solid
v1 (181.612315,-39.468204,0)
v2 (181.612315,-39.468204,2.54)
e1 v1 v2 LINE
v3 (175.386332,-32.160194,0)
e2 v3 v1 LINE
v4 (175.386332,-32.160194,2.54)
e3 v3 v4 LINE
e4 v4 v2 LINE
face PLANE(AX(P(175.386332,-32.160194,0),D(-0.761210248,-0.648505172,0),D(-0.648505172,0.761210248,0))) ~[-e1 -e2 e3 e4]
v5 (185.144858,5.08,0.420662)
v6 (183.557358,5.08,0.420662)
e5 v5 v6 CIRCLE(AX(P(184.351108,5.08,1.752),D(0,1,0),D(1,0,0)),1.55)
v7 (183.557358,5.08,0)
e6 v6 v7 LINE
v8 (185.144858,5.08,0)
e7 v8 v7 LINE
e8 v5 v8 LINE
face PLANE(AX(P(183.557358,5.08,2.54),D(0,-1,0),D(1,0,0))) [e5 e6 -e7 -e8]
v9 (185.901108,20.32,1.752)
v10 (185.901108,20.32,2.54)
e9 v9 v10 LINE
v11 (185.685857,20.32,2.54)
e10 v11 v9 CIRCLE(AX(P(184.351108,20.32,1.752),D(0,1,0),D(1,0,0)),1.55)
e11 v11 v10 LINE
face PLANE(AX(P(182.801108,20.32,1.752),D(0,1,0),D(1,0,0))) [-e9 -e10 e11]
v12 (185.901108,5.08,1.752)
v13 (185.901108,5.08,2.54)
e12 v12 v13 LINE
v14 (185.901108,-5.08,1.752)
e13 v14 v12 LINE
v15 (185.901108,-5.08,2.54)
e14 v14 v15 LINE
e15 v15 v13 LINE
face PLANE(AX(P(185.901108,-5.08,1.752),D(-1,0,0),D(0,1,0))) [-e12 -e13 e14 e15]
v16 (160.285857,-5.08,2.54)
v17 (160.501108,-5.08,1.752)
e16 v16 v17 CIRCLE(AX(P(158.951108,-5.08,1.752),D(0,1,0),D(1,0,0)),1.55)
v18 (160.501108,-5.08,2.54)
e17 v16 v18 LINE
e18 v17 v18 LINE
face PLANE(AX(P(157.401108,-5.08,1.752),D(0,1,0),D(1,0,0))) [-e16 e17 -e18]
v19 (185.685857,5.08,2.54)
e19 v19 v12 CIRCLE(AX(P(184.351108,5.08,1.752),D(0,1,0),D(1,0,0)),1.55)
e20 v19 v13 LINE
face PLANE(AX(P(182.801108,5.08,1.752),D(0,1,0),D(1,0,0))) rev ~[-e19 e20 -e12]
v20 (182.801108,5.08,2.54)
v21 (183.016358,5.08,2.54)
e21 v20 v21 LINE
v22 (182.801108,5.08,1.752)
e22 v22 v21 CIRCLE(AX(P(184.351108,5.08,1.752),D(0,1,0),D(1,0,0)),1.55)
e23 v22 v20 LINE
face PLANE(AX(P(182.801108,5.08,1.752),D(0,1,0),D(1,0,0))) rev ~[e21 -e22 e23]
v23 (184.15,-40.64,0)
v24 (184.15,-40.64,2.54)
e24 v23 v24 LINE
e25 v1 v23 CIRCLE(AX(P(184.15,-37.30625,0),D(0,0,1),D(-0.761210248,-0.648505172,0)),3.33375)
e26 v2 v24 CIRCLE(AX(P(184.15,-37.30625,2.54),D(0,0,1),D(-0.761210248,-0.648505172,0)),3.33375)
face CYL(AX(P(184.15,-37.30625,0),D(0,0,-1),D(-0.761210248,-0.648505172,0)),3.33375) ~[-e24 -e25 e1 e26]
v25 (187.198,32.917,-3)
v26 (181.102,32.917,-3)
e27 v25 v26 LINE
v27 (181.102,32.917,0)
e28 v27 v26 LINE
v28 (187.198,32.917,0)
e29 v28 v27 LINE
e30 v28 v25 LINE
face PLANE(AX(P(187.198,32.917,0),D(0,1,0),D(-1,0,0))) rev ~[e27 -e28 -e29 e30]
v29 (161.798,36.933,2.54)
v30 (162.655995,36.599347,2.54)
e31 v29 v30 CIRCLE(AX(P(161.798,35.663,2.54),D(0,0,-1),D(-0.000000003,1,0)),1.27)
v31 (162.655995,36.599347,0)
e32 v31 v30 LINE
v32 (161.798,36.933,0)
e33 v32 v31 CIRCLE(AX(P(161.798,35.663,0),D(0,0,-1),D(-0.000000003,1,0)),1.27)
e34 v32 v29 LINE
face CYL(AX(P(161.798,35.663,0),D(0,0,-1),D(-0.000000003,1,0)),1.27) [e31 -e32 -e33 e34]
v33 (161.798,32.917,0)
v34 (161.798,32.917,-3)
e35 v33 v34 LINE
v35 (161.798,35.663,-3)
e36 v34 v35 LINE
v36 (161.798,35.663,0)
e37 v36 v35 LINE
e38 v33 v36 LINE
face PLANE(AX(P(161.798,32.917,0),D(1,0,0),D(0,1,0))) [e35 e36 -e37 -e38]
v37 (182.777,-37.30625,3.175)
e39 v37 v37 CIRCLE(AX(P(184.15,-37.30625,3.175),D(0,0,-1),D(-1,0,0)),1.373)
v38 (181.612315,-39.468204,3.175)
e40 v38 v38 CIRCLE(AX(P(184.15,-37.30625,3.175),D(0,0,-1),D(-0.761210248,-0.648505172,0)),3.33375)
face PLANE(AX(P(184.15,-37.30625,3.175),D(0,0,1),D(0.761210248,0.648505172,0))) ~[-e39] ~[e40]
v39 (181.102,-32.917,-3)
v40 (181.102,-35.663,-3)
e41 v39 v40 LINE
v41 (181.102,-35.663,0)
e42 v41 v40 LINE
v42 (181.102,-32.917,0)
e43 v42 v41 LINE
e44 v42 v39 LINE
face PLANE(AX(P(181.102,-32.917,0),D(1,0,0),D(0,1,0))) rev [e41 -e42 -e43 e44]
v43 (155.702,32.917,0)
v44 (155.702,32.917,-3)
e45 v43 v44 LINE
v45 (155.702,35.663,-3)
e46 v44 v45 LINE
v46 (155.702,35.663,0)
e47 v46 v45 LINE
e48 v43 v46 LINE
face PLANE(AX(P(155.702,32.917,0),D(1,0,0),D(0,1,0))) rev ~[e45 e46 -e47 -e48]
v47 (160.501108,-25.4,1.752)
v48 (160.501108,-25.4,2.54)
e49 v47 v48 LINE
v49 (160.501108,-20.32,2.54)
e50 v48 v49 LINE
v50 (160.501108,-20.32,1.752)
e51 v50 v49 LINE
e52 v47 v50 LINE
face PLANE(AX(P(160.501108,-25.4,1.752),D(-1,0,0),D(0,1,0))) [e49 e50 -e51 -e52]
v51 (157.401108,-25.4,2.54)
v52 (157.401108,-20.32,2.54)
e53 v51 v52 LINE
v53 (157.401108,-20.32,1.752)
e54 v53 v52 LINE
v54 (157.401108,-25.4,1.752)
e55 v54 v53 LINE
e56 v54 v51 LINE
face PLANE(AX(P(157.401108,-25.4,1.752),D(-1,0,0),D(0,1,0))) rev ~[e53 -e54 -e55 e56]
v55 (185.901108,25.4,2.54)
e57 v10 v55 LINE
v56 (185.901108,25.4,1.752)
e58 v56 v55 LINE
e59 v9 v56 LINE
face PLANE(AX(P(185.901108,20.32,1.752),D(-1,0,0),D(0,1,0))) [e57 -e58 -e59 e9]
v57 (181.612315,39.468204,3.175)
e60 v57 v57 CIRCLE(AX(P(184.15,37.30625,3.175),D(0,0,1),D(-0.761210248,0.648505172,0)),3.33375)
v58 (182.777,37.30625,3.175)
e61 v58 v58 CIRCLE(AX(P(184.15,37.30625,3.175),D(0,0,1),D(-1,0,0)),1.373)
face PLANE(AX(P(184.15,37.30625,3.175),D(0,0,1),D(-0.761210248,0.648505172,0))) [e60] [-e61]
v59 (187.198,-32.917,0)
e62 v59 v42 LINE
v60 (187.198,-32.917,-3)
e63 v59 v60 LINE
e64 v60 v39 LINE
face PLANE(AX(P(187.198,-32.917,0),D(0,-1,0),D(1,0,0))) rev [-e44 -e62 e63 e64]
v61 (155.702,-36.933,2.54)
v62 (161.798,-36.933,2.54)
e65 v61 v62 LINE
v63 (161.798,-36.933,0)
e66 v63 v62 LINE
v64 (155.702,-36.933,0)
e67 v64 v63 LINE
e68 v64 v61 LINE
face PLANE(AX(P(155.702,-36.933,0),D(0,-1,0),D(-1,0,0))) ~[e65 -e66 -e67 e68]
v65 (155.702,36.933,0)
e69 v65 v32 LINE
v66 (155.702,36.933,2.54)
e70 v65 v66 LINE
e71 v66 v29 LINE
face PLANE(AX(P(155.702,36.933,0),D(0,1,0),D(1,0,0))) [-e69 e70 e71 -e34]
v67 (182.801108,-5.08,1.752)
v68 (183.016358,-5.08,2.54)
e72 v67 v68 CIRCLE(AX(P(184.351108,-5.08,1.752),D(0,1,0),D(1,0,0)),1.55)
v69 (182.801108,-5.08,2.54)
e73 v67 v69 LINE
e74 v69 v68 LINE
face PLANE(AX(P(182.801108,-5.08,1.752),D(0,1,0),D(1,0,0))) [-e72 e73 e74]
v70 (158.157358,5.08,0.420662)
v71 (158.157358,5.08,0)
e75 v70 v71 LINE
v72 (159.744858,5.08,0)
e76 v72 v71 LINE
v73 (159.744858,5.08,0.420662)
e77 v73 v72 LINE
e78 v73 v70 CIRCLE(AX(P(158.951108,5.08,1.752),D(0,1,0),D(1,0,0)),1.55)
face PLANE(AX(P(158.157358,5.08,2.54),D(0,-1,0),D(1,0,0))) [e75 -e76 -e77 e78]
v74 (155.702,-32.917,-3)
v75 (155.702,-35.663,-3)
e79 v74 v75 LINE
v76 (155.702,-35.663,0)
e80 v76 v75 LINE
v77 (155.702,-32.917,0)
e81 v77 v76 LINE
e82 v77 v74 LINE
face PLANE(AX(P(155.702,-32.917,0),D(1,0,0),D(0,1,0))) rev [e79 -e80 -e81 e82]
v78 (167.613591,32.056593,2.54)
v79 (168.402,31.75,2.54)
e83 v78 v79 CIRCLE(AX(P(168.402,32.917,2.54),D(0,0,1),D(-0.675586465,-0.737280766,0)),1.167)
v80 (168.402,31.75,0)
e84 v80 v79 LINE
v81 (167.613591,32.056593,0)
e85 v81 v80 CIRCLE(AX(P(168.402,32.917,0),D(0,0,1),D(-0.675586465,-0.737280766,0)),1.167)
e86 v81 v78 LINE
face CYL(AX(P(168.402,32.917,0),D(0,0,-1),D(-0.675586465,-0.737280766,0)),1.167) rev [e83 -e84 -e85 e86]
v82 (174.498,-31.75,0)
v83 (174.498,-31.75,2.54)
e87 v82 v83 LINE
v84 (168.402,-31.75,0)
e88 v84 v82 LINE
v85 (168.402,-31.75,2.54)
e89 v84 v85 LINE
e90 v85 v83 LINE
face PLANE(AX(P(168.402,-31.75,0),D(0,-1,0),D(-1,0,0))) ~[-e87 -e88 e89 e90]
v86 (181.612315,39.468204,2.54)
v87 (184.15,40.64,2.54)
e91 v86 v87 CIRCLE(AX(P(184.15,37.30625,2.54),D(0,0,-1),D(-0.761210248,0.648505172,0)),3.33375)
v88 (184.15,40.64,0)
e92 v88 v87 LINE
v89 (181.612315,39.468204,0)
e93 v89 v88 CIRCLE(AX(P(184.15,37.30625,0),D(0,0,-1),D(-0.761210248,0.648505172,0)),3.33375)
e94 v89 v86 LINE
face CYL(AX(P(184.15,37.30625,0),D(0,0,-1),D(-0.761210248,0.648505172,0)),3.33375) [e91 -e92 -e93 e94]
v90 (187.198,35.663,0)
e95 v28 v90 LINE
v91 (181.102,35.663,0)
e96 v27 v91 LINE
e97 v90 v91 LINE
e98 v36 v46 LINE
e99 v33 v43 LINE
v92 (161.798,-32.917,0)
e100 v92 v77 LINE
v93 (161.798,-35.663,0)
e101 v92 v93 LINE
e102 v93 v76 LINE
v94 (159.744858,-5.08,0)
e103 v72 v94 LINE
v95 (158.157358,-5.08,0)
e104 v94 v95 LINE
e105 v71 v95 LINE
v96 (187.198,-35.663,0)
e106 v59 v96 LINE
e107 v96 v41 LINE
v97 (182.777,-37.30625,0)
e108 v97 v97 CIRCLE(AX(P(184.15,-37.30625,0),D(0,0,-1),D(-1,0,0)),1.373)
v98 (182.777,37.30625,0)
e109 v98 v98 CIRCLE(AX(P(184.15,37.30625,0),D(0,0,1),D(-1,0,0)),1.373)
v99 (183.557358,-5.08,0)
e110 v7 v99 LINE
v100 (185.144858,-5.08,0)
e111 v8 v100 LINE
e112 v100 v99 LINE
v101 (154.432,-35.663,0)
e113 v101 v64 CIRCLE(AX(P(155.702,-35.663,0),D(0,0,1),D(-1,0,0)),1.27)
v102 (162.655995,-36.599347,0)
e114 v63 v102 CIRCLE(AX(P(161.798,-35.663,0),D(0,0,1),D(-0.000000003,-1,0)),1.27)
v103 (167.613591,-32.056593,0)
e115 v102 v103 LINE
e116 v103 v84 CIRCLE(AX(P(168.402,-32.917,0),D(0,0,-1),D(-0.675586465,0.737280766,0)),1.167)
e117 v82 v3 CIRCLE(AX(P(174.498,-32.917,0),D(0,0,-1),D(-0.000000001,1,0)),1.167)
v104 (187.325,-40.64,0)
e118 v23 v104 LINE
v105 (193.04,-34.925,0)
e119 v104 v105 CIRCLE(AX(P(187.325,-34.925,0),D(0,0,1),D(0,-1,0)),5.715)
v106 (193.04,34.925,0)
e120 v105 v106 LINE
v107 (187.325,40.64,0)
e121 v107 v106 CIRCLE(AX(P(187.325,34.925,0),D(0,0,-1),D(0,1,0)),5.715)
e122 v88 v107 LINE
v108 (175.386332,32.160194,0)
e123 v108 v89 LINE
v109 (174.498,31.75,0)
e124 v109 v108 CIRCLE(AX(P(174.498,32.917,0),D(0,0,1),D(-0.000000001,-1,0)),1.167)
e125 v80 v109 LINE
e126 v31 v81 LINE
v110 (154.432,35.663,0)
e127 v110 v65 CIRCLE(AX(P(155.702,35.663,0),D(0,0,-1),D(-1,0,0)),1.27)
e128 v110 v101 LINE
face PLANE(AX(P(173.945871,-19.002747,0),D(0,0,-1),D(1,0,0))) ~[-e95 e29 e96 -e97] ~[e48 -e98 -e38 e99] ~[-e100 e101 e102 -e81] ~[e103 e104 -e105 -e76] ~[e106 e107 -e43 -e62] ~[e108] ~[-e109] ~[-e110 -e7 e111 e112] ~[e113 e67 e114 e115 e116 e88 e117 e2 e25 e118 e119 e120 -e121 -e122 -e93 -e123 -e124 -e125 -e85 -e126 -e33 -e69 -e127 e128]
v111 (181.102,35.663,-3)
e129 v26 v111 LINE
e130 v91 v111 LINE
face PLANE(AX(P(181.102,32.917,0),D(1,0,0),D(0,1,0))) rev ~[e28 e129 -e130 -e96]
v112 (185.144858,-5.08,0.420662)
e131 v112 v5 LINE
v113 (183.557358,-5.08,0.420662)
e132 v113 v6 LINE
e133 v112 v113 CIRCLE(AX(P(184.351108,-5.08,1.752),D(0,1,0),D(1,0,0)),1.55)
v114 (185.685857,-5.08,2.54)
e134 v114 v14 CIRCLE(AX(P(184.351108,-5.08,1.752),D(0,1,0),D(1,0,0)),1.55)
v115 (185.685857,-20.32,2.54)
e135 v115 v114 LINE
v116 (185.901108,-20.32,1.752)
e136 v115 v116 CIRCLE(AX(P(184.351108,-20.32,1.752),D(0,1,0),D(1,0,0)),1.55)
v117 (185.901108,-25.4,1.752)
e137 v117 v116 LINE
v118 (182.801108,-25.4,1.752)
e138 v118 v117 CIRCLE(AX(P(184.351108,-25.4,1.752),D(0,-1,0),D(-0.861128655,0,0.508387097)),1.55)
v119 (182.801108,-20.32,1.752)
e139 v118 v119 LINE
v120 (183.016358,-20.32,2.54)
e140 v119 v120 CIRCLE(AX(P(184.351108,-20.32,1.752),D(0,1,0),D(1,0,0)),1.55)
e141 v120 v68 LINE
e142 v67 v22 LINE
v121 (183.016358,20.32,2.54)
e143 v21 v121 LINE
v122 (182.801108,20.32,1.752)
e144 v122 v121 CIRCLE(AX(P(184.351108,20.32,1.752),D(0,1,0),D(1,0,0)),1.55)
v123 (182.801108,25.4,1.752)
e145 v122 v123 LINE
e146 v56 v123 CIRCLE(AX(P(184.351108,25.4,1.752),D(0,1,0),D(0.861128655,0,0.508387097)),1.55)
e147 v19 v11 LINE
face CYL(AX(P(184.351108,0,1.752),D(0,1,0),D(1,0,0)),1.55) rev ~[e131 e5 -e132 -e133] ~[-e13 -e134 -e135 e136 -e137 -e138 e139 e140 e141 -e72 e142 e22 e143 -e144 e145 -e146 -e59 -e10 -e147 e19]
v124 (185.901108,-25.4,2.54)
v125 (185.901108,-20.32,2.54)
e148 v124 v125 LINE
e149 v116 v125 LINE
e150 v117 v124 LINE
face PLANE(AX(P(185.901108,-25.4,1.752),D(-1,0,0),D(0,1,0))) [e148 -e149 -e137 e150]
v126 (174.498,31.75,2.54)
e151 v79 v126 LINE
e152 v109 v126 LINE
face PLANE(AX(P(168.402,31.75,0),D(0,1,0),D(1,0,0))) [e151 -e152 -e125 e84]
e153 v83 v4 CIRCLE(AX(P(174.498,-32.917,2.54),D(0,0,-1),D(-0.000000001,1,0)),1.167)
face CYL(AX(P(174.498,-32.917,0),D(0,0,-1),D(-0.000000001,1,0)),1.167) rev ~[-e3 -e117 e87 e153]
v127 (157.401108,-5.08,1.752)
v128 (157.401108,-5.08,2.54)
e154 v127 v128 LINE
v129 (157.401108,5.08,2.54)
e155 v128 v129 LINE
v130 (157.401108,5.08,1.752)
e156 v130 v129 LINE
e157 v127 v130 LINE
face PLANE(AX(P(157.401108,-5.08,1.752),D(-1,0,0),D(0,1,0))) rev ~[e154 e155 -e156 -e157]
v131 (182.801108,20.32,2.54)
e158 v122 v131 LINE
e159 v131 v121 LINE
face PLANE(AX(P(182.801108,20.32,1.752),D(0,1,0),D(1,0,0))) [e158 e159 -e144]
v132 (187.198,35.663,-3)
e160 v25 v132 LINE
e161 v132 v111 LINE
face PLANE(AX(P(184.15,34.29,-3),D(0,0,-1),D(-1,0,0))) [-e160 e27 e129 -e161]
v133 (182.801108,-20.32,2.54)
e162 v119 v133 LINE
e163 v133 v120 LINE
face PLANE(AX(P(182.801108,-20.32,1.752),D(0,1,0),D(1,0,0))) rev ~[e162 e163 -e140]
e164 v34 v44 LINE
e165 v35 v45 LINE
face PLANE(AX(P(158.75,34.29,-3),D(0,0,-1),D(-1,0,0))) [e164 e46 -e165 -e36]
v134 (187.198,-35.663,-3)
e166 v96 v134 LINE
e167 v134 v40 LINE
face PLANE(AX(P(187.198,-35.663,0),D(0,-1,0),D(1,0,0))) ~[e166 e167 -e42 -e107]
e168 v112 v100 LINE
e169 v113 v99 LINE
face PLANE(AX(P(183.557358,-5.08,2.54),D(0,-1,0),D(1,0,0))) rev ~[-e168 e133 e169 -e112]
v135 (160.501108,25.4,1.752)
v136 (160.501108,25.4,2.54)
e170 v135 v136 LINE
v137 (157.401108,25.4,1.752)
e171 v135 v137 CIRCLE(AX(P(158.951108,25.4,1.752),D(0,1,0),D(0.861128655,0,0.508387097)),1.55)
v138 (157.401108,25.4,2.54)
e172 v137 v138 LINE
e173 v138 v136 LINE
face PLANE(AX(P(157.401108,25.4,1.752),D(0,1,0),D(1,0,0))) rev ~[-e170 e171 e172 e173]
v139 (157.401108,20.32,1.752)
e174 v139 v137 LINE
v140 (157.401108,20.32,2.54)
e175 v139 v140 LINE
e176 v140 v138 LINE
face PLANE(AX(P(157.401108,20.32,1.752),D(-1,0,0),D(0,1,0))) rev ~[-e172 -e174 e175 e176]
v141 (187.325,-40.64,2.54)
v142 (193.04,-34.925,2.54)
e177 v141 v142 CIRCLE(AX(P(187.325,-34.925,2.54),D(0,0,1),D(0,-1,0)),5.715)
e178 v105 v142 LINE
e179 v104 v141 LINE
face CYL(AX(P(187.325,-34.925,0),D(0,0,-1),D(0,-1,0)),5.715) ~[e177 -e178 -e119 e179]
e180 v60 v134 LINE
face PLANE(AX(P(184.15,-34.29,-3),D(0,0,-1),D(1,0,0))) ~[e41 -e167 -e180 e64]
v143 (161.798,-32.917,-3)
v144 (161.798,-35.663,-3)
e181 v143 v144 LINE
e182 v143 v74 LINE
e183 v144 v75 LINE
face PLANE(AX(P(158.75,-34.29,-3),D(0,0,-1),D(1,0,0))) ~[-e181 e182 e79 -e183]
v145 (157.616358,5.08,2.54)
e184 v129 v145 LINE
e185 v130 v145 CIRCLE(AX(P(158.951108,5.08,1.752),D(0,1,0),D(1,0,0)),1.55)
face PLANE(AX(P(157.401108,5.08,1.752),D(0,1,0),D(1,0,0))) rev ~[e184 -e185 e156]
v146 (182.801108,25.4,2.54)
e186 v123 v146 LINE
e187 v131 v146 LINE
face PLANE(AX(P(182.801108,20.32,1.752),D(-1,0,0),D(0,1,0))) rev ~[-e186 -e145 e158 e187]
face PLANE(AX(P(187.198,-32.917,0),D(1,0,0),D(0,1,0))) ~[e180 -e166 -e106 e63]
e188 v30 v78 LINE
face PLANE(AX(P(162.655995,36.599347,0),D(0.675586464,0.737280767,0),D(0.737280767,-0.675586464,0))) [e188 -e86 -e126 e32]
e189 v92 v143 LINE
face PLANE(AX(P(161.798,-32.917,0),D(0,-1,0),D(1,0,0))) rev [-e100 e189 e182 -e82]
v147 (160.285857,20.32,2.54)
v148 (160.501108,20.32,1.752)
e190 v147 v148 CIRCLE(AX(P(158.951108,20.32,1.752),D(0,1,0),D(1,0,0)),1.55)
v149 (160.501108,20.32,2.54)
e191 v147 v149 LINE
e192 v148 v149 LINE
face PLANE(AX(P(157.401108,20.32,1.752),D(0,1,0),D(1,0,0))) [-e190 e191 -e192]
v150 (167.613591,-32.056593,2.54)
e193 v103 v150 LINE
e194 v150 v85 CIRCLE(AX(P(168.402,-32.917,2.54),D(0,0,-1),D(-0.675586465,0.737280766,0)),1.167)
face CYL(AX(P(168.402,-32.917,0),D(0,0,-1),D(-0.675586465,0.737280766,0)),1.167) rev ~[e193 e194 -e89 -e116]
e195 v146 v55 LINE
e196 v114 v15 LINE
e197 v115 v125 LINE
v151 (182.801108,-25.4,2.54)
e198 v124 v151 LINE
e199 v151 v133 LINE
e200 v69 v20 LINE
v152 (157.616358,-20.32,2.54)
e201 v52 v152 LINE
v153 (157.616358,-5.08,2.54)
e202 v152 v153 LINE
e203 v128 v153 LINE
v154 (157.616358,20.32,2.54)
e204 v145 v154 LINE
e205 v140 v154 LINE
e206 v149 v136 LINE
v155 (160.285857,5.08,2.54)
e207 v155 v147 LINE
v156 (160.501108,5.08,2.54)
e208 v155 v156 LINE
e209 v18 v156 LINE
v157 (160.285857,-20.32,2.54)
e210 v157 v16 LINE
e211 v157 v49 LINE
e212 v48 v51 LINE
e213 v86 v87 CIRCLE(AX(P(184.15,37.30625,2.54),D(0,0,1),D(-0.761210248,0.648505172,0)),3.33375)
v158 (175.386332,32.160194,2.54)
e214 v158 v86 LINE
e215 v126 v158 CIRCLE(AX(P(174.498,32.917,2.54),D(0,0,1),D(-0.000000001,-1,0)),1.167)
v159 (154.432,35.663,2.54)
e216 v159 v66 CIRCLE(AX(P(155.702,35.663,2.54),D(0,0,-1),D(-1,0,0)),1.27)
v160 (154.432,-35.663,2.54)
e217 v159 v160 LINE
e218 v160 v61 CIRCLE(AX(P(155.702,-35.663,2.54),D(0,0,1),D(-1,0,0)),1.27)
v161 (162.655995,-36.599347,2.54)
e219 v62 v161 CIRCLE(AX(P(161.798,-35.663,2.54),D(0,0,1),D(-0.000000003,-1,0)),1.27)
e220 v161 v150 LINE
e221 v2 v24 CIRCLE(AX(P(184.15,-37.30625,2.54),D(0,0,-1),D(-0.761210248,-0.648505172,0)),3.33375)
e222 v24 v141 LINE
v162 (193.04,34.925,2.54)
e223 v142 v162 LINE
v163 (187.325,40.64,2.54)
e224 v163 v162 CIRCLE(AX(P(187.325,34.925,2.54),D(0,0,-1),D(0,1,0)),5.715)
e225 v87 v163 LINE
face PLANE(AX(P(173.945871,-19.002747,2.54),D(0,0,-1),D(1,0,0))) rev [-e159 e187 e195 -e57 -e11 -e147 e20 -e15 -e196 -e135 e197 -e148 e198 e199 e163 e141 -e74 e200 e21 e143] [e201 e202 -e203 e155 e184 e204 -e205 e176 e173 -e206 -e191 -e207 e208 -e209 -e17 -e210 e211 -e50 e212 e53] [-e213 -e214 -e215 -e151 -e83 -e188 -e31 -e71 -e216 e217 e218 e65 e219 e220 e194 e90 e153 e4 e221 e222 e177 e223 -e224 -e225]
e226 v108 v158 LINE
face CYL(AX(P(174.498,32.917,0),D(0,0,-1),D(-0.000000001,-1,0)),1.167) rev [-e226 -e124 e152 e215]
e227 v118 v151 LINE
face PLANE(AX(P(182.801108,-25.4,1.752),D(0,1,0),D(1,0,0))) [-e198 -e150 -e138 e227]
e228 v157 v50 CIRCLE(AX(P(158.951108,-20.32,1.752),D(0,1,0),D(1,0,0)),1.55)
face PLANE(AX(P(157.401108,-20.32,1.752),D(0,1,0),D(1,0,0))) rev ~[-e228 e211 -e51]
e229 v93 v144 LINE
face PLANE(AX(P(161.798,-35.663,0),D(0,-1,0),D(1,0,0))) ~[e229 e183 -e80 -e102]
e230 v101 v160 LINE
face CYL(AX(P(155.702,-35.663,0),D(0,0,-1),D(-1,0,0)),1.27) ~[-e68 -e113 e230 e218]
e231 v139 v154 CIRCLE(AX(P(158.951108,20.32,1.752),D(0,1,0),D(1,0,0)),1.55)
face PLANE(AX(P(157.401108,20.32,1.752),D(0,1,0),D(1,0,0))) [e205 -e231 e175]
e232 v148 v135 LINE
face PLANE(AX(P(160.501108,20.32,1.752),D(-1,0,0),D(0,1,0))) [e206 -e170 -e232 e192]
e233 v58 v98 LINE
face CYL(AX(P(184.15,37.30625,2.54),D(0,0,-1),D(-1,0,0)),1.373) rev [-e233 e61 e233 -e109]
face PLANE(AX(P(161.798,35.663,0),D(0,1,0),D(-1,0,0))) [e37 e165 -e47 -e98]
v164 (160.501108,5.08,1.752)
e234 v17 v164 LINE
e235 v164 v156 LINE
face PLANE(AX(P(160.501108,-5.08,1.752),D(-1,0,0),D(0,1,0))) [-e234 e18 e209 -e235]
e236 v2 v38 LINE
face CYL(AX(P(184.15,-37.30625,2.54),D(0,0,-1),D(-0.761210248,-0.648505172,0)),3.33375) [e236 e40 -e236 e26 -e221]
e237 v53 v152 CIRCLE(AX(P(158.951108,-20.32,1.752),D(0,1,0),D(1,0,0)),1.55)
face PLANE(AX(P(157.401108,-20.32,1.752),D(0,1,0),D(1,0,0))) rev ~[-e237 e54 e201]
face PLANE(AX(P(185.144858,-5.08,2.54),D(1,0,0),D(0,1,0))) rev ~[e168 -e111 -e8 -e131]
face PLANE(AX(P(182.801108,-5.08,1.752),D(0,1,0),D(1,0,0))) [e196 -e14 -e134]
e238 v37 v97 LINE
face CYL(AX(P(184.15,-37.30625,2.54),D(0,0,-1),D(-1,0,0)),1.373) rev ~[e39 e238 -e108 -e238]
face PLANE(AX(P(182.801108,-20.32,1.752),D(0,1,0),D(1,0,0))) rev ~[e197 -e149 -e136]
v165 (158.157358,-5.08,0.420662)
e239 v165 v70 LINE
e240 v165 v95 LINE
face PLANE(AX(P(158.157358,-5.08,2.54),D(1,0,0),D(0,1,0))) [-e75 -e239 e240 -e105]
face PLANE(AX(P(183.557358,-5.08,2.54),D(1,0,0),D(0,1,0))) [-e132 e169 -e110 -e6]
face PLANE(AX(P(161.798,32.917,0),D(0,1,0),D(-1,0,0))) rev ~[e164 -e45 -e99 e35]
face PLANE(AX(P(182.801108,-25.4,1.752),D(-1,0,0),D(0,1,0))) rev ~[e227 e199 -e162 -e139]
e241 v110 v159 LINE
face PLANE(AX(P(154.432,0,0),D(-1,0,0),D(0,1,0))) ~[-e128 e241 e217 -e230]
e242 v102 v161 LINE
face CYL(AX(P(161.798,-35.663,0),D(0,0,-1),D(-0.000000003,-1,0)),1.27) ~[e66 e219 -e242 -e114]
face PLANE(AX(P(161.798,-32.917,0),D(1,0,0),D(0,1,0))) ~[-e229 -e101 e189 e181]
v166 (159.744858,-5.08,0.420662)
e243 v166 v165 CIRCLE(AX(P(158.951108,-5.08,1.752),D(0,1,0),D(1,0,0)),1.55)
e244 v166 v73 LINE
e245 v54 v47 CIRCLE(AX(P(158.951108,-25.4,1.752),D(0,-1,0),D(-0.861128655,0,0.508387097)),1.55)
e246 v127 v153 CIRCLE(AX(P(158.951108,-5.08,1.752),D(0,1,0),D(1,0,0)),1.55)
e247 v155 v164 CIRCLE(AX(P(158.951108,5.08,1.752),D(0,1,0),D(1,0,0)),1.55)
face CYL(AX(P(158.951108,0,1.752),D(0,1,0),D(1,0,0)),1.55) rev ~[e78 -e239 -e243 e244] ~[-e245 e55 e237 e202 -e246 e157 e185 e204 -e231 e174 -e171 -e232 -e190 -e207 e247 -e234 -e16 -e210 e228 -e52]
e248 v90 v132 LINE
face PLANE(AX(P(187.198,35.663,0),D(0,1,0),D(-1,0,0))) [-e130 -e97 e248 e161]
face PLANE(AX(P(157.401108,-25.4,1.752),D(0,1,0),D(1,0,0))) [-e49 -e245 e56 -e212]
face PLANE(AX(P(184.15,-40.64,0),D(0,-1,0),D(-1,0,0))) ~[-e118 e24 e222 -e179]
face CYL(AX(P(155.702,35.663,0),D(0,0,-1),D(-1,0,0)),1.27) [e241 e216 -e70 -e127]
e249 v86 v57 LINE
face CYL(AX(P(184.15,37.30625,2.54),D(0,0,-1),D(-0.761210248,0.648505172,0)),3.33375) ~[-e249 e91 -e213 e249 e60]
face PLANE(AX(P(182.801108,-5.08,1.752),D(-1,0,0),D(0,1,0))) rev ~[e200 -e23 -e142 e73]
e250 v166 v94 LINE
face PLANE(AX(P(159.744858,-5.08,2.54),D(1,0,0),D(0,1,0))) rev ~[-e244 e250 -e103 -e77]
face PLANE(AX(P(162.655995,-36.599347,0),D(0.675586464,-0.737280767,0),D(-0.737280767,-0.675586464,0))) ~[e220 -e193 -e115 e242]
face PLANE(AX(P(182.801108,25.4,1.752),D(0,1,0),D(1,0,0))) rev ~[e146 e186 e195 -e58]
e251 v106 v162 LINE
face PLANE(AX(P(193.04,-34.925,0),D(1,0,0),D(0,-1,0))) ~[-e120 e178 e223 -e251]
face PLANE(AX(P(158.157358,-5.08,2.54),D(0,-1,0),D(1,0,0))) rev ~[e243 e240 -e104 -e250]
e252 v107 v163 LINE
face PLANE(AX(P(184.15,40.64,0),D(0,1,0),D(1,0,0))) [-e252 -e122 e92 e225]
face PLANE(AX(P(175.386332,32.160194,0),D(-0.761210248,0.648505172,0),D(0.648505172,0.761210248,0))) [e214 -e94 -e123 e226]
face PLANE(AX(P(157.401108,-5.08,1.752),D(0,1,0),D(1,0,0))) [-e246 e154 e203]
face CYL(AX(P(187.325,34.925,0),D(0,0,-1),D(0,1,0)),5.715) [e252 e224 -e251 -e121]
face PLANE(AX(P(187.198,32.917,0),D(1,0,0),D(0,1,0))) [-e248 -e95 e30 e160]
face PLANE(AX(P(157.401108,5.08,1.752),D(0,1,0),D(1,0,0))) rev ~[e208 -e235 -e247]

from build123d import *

# Parameters (mm, degrees)
SKETCH3_R           = 1.373
DOWEL_BODIES_DEPTH  = 13
BOSS_EXTRUDE3_DEPTH = 2.54
SKETCH5_W           = 6.096
SKETCH5_H           = 2.746000096
BOSS_EXTRUDE4_DEPTH = 3
SKETCH6_R           = 3.33375
SKETCH6_R_2         = 1.373
BOSS_EXTRUDE7_DEPTH = 0.635
SKETCH8_R           = 1.55
CUT_EXTRUDE1_DEPTH  = 25.4
CUT_EXTRUDE2_REACH  = 199.349
SKETCH9_W           = 1.5875
SKETCH9_H           = 10.16
CUT_EXTRUDE3_START  = -0.788
SKETCH10_W          = 3.1
SKETCH10_H          = 5.08
SKETCH10_H_2        = 10.16
CUT_EXTRUDE3_DEPTH  = 0.788
LPATTERN1_COUNT     = 2
LPATTERN1_PITCH     = 25.4


with BuildPart() as part:
    # Sketch3 → Dowel Bodies (new body)
    with BuildSketch(Plane.XY):
        with Locations(Location((184.15, 37.30625, 0), (0, 0, 180))):
            Circle(SKETCH3_R)
    extrude(amount=DOWEL_BODIES_DEPTH)


with BuildPart() as body_2:
    # Sketch4 → Boss-Extrude3 (new body)
    with BuildSketch(Plane.XY):
        with BuildLine():
            Line((168.402, 31.75), (174.498, 31.75))
            ThreePointArc((174.498, 31.75), (174.987232511, 31.857499863), (175.386332323, 32.160194447))
            Line((175.386332323, 32.160194447), (181.612315337, 39.468204119))
            ThreePointArc((181.612315337, 39.468204119), (182.752417351, 40.332906869), (184.15, 40.64))
            Line((184.15, 40.64), (187.325, 40.64))
            ThreePointArc((187.325, 40.64), (191.366115254, 38.966115254), (193.04, 34.925))
            Line((193.04, 34.925), (193.04, 0))
            Line((193.04, 0), (154.432, 0))
            Line((154.432, 0), (154.432, 35.663000048))
            ThreePointArc((154.432, 35.663000048), (154.803974388, 36.56102566), (155.702, 36.933000048))
            Line((155.702, 36.933000048), (161.798, 36.933000048))
            ThreePointArc((161.798, 36.933000048), (162.258293304, 36.846651211), (162.655994809, 36.599346622))
            Line((162.655994809, 36.599346622), (167.613590629, 32.056593332))
            ThreePointArc((167.613590629, 32.056593332), (167.979037588, 31.829345739), (168.402, 31.75))
        make_face()
    extrude(amount=BOSS_EXTRUDE3_DEPTH)

    # Combine1: cut part
    add(part.part, mode=Mode.SUBTRACT)

    # Sketch5 → Boss-Extrude4 (add)
    with BuildSketch(Plane(origin=(0, 0, 0), x_dir=(-1, 0, 0), z_dir=(0, 0, -1))):
        with Locations((-184.15, 34.29)):
            Rectangle(SKETCH5_W, SKETCH5_H)
        with Locations((-158.75, 34.29)):
            Rectangle(SKETCH5_W, SKETCH5_H)
    extrude(amount=BOSS_EXTRUDE4_DEPTH)

    # Sketch6 → Boss-Extrude7 (add)
    with BuildSketch(Plane.XY.offset(2.54)):
        with Locations(Location((184.15, 37.30625, 0), (0, 0, 139.571007131))):
            Circle(SKETCH6_R)
        with Locations(Location((184.15, 37.30625, 0), (0, 0, 180))):
            Circle(SKETCH6_R_2, mode=Mode.SUBTRACT)
    extrude(amount=BOSS_EXTRUDE7_DEPTH)

    # Mirror3: body 2 across plane


with BuildPart() as body_2_1:
    add(body_2.part)
    add(body_2.part.mirror(Plane.ZX))

    # Sketch8 → Cut-Extrude1 (cut, symmetric)
    with BuildSketch(Plane(origin=(0, 0, 0), x_dir=(1, 0, 0), z_dir=(0, 1, 0))):
        with Locations((158.951107585, -1.752)):
            Circle(SKETCH8_R)
    cut_extrude1 = extrude(amount=CUT_EXTRUDE1_DEPTH, both=True, mode=Mode.SUBTRACT)

    # Sketch9 → Cut-Extrude2 (cut, up to next)
    with BuildSketch(Plane.XY.offset(2.54), mode=Mode.PRIVATE) as cut_extrude2_sk1:
        with Locations((158.951107585, 0)):
            Rectangle(SKETCH9_W, SKETCH9_H)
    cut_extrude2_tool1 = extrude(cut_extrude2_sk1.sketch, amount=-CUT_EXTRUDE2_REACH, mode=Mode.PRIVATE) & body_2_1.part
    cut_extrude2 = cut_extrude2_tool1.solids().sort_by_distance((158.951108, 0, 2.54))[0]
    add(cut_extrude2, mode=Mode.SUBTRACT)

    # Sketch10 → Cut-Extrude3 (cut)
    with BuildSketch(Plane.XY.offset(2.54).offset(CUT_EXTRUDE3_START)):
        with Locations((158.951107585, 22.86)):
            Rectangle(SKETCH10_W, SKETCH10_H)
        with Locations((158.951107585, 0)):
            Rectangle(SKETCH10_W, SKETCH10_H_2)
        with Locations((158.951107585, -22.86)):
            Rectangle(SKETCH10_W, SKETCH10_H)
    cut_extrude3 = extrude(amount=CUT_EXTRUDE3_DEPTH, mode=Mode.SUBTRACT)

    # LPattern1: Cut-Extrude1, Cut-Extrude2, Cut-Extrude3 ×2
    with Locations(*[(i * LPATTERN1_PITCH, 0, 0) for i in range(1, LPATTERN1_COUNT)]):
        add(cut_extrude1, mode=Mode.SUBTRACT)
        add(cut_extrude2, mode=Mode.SUBTRACT)
        add(cut_extrude3, mode=Mode.SUBTRACT)


solid = body_2_1.part
